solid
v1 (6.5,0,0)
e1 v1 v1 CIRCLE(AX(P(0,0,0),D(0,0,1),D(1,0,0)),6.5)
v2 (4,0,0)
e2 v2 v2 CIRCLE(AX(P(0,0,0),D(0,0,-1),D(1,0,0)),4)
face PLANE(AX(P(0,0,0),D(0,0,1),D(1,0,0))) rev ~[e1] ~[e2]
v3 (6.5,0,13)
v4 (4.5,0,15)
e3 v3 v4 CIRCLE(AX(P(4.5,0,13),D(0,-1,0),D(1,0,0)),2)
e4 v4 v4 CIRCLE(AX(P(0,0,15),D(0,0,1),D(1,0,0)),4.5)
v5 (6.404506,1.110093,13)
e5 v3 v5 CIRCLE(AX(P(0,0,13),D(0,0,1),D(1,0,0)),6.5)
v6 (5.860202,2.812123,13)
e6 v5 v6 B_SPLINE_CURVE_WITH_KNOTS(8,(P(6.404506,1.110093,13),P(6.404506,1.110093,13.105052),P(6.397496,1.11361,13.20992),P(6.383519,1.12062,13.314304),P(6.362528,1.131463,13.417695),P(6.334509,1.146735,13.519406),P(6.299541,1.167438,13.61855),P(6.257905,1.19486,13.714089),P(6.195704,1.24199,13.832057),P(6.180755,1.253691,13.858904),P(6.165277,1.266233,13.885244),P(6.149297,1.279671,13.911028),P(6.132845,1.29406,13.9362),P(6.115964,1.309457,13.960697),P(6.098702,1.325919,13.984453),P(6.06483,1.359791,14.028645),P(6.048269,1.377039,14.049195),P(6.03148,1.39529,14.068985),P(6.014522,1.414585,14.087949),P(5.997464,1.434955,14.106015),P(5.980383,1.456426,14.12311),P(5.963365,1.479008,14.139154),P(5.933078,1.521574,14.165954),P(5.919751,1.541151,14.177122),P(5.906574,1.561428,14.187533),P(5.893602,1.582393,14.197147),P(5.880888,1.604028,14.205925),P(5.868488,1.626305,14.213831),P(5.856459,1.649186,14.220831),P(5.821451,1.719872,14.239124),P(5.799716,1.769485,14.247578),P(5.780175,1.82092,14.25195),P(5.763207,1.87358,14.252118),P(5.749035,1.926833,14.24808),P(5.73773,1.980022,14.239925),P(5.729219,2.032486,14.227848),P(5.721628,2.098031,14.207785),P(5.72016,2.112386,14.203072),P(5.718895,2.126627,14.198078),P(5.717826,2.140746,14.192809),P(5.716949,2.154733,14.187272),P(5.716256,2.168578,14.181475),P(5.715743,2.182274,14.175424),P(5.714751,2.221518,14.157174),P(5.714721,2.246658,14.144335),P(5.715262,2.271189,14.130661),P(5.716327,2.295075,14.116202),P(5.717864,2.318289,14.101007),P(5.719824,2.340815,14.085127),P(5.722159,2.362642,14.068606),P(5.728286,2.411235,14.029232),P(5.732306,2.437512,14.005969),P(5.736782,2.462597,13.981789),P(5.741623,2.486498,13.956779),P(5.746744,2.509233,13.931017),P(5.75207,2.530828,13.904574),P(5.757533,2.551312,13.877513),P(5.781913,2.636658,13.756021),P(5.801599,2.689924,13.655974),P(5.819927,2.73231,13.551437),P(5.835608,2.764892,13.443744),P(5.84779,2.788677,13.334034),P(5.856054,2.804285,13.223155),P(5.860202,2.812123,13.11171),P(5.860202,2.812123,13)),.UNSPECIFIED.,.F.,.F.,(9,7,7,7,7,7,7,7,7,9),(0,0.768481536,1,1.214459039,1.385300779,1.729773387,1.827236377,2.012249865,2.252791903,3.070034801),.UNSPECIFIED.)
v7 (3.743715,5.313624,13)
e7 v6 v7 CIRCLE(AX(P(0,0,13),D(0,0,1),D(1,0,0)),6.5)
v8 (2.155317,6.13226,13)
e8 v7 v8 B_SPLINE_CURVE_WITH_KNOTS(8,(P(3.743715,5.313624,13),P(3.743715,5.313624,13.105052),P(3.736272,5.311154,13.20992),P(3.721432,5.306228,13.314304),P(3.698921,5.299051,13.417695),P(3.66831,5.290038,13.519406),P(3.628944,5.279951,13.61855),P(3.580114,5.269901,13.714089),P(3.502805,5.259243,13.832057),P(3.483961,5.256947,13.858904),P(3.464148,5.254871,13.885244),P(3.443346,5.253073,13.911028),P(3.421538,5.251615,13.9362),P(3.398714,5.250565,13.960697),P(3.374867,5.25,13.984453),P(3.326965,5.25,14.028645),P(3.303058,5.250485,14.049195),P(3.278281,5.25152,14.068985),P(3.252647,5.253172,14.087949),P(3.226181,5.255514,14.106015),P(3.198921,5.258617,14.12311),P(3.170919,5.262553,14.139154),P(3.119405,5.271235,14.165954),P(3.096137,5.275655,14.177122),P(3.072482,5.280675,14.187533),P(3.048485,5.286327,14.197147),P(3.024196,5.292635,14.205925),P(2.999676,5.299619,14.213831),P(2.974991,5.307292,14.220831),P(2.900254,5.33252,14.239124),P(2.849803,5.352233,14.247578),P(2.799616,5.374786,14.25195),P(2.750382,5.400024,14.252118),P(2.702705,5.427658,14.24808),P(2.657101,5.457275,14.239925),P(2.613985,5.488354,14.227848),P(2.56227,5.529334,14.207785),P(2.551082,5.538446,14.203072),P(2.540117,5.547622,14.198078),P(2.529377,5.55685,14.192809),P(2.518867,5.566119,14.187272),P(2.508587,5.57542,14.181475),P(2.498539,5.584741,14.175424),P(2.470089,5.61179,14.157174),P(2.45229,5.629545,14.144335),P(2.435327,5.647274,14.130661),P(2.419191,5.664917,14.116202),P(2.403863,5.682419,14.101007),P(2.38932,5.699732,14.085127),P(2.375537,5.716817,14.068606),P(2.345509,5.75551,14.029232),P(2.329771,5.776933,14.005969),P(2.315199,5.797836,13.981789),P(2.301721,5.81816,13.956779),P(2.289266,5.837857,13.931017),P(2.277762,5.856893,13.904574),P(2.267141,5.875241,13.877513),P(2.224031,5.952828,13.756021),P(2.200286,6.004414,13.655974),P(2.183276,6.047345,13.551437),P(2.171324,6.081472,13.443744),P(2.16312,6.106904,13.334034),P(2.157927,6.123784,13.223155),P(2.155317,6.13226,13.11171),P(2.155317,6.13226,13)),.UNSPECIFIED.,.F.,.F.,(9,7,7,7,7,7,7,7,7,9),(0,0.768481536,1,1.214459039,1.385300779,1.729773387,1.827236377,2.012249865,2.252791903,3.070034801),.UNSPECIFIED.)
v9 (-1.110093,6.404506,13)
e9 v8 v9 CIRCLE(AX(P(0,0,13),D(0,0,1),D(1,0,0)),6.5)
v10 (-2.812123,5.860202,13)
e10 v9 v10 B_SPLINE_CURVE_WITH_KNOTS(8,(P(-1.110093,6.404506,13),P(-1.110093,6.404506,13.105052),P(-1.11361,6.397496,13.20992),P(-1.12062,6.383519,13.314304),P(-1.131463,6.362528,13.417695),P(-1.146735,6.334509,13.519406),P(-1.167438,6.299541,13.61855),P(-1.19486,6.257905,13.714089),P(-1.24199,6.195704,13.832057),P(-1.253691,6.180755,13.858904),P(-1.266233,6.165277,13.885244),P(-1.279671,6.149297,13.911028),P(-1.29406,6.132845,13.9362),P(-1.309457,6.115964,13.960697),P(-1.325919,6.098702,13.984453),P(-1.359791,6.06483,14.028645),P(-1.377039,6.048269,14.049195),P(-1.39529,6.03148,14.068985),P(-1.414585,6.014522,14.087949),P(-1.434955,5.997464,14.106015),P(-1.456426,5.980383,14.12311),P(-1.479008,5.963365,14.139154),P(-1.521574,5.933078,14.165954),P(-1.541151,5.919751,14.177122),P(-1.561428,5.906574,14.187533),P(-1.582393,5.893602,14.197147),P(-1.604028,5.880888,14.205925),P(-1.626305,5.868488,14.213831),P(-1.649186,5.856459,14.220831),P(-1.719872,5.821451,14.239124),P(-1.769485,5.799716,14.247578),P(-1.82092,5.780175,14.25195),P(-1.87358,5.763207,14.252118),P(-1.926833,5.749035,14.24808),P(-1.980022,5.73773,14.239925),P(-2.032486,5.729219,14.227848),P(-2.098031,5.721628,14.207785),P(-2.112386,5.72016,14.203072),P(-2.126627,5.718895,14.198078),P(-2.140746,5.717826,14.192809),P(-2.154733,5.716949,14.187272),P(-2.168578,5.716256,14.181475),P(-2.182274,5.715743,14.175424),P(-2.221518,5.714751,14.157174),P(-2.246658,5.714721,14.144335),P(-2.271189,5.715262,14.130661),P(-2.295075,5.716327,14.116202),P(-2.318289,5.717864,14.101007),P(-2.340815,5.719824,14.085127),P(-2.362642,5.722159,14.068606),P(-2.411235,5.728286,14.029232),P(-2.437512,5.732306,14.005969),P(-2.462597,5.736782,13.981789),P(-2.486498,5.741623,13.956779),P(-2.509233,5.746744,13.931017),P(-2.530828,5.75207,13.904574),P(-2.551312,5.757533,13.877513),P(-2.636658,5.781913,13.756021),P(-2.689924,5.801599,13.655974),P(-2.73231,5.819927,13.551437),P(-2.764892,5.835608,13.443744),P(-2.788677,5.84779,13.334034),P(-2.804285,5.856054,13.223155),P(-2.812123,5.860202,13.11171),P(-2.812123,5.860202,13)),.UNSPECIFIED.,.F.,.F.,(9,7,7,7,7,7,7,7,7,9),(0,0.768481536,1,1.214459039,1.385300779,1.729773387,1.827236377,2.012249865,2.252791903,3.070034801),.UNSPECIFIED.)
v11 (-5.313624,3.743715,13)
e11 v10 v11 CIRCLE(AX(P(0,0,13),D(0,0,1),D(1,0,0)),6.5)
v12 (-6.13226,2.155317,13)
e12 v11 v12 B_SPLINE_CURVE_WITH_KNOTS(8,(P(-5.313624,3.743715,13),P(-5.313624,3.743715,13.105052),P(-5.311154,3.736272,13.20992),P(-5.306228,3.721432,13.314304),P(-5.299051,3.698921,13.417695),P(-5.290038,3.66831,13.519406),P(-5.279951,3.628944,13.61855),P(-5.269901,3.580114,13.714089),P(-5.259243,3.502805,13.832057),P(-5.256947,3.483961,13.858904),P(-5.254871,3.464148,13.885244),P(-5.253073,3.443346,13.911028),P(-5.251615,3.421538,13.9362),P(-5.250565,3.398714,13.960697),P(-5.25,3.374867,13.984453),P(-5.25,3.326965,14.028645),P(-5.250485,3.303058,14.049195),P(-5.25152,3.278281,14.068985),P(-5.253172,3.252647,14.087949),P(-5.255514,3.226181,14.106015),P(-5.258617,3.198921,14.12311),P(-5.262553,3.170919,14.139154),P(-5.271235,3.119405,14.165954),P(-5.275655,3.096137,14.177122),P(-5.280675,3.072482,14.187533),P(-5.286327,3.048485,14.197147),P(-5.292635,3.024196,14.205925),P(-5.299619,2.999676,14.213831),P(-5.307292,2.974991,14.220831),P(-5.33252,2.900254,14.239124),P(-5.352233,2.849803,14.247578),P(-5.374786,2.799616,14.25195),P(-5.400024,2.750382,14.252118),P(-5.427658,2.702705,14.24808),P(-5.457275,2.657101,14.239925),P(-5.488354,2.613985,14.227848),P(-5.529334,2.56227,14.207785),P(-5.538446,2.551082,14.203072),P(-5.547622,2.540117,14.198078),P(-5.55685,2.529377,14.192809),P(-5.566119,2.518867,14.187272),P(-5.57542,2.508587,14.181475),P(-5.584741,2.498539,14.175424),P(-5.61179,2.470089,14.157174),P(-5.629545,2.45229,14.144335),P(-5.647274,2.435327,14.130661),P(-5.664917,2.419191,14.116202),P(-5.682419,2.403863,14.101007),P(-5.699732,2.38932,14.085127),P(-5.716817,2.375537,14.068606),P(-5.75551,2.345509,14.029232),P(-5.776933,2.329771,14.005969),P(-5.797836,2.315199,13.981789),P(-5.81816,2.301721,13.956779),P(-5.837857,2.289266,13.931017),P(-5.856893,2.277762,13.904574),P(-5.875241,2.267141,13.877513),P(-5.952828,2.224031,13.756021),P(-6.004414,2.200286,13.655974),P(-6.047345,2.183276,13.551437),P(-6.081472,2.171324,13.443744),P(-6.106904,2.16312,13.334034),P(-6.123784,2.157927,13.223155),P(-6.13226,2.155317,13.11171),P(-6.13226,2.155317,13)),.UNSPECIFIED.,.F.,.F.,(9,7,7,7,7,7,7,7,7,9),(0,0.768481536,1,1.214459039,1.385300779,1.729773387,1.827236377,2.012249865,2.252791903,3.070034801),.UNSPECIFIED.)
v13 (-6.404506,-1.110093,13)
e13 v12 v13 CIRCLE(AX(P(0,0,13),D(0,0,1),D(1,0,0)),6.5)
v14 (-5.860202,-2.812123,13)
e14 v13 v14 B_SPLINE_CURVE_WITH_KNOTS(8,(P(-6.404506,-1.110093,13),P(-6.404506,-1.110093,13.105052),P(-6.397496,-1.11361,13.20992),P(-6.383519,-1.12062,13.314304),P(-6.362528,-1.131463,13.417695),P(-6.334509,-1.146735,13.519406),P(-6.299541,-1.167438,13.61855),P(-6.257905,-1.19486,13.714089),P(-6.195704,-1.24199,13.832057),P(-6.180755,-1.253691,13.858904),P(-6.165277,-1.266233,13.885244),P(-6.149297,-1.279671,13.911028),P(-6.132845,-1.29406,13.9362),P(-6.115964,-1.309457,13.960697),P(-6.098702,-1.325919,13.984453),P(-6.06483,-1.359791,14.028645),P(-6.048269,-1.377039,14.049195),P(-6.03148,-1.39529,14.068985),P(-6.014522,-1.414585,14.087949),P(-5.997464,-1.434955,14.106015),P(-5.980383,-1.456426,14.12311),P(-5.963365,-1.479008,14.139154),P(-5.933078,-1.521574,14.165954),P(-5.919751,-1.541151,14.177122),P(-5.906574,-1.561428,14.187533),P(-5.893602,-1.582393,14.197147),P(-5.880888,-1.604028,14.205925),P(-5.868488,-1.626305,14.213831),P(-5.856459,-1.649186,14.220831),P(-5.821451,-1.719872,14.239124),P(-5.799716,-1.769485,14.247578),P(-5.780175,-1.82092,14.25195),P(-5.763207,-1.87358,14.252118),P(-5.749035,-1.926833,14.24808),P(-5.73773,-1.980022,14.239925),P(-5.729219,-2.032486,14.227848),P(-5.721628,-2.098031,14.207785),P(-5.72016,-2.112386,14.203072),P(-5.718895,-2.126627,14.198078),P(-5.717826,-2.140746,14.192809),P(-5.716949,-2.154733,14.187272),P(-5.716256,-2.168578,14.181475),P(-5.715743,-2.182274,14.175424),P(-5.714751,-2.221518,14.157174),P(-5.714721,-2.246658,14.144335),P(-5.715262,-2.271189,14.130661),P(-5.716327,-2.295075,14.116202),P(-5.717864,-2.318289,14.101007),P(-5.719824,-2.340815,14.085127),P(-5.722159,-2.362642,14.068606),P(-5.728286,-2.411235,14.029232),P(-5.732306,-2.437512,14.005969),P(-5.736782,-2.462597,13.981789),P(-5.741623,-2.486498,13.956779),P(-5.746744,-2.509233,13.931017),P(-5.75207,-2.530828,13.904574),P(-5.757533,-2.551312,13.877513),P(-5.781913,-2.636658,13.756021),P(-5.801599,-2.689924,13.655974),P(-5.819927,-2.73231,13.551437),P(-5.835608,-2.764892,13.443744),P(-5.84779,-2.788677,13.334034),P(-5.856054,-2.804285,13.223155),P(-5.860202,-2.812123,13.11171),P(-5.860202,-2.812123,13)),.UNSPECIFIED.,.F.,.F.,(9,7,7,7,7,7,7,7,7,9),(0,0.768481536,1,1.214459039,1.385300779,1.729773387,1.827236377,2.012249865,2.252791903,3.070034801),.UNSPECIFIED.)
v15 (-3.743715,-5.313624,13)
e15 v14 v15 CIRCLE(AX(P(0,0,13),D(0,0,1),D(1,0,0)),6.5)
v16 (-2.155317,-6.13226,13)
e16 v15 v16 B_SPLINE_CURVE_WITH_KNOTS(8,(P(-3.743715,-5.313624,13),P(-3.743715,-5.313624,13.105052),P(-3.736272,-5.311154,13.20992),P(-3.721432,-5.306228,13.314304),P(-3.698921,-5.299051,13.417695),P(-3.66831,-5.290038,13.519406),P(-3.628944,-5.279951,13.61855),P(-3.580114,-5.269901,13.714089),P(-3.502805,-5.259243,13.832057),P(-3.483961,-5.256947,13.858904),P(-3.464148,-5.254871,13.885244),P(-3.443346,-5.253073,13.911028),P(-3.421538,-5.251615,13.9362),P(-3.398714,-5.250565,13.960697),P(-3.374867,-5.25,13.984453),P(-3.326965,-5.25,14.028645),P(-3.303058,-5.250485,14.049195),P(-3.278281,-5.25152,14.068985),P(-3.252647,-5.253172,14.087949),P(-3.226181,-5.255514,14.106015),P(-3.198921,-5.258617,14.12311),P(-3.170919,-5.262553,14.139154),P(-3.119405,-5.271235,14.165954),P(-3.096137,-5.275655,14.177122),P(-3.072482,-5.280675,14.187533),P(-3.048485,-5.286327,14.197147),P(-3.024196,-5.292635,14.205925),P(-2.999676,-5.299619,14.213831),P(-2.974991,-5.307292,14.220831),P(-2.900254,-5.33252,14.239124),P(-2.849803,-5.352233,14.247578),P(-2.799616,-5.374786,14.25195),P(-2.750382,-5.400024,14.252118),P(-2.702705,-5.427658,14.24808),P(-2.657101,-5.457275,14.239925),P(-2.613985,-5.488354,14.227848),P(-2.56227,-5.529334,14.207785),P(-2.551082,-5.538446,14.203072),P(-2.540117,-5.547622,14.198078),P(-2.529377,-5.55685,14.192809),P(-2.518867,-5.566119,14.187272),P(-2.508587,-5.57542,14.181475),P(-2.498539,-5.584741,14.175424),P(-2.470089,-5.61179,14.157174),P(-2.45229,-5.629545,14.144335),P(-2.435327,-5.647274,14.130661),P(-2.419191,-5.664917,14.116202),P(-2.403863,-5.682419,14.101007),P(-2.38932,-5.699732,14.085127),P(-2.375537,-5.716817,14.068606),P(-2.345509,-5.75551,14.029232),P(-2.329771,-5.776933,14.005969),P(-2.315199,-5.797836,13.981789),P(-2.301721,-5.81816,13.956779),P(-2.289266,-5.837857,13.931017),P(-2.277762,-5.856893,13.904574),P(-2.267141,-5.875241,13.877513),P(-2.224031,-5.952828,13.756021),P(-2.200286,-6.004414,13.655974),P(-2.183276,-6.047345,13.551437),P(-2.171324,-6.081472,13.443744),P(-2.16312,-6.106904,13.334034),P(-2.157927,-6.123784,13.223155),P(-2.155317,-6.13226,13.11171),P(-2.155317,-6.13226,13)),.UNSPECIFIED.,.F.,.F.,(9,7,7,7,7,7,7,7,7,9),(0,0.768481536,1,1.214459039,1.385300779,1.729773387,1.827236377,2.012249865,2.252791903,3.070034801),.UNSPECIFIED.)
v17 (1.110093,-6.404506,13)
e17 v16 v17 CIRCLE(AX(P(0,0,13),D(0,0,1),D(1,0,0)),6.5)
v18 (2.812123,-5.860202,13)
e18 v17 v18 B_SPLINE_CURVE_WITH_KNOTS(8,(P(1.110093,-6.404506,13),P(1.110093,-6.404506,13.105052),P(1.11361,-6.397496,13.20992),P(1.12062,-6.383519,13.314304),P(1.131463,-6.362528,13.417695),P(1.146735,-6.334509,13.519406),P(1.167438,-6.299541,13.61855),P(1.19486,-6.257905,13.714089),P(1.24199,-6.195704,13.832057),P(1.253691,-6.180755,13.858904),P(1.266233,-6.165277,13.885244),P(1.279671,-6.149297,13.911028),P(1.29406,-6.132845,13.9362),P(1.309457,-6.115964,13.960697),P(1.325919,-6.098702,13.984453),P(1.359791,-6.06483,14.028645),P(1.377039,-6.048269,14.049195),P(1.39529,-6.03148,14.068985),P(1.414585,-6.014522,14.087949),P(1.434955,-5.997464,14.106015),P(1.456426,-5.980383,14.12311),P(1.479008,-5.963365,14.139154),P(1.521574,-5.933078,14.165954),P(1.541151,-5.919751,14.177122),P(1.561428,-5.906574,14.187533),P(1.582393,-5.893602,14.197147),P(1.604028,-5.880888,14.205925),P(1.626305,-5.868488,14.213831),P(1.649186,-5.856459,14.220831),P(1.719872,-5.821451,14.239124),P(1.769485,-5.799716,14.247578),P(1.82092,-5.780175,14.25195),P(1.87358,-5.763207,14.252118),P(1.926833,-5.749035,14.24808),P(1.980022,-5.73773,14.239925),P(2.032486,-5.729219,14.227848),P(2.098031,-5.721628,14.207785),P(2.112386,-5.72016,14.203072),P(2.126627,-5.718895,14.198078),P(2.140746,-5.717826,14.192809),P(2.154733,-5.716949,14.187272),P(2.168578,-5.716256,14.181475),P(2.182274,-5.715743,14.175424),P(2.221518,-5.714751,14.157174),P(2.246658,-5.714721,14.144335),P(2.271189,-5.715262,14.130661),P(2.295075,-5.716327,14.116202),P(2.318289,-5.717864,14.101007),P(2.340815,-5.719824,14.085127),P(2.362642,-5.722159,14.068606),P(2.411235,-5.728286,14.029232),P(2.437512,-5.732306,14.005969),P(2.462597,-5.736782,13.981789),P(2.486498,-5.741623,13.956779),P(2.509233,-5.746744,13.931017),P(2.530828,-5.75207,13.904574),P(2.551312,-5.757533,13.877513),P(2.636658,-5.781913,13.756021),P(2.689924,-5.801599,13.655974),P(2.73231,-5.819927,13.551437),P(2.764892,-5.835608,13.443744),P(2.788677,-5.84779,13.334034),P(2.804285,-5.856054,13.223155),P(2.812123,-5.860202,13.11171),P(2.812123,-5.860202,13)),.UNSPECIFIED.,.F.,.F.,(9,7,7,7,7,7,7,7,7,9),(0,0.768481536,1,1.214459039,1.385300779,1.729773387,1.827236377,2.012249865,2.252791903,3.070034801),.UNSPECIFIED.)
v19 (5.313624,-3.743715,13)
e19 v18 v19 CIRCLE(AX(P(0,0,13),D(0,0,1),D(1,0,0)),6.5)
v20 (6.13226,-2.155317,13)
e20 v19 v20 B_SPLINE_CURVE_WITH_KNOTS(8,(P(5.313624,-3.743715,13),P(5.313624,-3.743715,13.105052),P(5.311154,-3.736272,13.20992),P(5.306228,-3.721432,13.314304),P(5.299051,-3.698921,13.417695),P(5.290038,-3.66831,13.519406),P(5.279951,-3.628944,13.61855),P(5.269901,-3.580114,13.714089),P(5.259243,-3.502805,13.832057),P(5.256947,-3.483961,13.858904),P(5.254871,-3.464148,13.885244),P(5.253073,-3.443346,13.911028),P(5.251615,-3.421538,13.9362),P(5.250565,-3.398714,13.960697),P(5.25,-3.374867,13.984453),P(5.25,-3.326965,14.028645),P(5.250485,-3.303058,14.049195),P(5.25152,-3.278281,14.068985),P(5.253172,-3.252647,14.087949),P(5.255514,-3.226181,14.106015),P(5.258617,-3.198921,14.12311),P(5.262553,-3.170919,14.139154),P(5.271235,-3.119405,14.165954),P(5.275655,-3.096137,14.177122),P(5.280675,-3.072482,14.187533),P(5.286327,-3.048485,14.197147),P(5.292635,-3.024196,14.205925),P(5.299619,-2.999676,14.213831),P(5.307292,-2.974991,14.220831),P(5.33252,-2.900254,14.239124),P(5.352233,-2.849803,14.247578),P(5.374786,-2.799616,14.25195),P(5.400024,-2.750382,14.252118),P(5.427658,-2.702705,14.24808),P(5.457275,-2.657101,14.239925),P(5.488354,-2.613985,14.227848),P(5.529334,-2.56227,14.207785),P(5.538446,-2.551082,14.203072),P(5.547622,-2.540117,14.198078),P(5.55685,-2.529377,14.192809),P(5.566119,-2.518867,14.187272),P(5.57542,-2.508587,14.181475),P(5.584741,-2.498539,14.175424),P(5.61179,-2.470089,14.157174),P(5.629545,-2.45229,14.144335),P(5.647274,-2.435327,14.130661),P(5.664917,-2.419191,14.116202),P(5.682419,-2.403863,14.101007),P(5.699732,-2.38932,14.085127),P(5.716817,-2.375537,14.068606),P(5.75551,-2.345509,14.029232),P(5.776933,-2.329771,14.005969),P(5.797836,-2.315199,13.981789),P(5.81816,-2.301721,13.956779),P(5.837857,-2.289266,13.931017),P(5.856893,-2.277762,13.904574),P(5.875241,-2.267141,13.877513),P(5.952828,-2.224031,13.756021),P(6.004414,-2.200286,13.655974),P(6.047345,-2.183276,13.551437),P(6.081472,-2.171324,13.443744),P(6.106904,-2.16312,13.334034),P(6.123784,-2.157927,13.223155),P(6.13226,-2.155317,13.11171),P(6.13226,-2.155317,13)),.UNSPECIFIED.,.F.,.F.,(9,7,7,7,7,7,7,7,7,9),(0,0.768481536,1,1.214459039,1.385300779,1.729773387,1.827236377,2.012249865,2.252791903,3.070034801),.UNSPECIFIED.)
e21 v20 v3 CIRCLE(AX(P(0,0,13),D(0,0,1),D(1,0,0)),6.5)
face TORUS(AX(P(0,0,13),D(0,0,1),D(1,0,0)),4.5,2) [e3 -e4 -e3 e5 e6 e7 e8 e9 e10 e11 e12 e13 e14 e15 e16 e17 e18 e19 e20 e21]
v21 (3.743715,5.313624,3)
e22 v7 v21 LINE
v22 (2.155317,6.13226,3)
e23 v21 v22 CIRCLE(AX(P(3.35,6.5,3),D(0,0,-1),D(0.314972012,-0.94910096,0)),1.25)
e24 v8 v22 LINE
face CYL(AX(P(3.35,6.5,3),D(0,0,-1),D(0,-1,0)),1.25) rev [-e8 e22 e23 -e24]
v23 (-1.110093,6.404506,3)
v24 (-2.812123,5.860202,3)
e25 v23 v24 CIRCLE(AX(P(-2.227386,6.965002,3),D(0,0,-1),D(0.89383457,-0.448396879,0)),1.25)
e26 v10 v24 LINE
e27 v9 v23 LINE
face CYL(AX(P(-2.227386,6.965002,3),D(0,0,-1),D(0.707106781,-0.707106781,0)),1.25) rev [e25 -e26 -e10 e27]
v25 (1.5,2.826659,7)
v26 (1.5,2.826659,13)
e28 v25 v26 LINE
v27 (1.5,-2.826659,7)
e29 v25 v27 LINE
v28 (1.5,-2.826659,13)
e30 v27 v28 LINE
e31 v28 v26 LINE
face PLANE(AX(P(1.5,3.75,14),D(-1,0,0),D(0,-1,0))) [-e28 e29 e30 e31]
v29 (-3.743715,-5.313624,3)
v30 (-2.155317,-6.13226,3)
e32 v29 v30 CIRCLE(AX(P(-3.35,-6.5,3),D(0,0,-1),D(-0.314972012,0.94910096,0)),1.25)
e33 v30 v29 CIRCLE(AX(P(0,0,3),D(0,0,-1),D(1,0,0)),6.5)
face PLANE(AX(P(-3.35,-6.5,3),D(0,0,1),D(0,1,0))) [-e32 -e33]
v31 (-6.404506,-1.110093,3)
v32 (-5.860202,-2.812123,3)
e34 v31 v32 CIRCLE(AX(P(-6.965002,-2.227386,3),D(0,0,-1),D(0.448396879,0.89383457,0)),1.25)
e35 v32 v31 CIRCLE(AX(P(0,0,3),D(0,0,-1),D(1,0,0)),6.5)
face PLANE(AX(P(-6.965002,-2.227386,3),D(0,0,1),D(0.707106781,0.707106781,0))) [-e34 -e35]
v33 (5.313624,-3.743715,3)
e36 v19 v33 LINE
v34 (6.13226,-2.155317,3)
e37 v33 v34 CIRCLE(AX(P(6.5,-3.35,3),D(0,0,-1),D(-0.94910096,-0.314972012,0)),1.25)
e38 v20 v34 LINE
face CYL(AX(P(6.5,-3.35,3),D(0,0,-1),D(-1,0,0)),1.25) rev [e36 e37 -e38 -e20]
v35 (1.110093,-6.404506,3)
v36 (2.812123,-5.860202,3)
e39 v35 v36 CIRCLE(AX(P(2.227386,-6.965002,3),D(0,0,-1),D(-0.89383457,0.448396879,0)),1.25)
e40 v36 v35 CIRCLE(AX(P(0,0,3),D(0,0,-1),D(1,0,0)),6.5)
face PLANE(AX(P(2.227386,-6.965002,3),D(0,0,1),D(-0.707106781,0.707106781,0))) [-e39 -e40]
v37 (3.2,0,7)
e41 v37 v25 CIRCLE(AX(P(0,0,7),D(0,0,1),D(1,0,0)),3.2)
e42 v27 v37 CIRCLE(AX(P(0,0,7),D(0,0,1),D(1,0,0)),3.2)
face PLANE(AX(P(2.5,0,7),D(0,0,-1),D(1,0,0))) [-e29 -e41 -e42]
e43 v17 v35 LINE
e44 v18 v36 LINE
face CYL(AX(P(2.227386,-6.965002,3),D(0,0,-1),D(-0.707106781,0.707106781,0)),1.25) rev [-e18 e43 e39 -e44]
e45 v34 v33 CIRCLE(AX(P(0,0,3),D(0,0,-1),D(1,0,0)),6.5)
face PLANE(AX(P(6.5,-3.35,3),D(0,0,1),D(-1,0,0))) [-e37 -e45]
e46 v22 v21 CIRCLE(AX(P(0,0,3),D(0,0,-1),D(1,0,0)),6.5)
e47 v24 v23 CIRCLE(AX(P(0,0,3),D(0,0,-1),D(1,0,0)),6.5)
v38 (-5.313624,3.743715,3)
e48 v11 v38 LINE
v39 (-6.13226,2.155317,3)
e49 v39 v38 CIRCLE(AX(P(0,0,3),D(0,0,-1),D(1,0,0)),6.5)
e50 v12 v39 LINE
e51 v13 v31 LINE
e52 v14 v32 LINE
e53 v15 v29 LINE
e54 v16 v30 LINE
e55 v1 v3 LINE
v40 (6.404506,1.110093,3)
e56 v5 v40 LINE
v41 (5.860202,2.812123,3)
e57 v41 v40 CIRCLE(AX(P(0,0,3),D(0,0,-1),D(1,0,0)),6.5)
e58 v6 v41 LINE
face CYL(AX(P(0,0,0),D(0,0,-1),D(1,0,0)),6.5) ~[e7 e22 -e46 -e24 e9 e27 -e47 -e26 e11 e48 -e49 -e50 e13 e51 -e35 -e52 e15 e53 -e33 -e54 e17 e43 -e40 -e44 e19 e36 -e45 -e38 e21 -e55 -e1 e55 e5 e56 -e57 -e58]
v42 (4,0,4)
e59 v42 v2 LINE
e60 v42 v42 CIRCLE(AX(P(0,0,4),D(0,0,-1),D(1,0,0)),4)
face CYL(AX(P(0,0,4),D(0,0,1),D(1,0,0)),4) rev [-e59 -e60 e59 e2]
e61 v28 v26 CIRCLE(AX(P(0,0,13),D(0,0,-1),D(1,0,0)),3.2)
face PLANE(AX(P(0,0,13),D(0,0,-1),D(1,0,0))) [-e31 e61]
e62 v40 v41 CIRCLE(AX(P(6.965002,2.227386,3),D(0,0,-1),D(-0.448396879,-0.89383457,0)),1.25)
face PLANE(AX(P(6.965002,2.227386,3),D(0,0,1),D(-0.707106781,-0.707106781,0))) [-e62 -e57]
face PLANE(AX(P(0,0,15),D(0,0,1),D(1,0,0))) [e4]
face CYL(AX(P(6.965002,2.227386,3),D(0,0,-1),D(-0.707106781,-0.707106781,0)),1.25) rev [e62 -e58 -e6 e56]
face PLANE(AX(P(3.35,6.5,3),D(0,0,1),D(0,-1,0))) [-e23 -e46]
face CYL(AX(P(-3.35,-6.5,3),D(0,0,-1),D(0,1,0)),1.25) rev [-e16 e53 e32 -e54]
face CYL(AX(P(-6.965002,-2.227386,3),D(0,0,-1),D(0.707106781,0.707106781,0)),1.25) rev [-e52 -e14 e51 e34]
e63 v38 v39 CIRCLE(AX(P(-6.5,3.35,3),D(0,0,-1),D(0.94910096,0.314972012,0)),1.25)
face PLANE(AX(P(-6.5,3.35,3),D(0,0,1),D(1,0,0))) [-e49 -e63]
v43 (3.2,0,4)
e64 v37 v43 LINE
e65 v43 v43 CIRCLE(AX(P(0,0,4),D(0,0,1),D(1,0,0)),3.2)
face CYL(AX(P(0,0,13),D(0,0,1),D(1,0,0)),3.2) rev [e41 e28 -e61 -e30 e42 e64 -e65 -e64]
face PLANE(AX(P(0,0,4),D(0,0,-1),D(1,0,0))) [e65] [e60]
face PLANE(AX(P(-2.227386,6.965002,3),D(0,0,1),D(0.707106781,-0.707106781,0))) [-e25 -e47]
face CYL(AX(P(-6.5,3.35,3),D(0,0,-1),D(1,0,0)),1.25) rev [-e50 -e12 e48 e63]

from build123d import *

# Parameters (mm, degrees)
CYLINDER_R         = 6.5
CYLINDER_DEPTH     = 15
CYLINDER001_R      = 3.2
CYLINDER001_DEPTH  = 13
BOX_W              = 2
BOX_H              = 7.5
BOX_DEPTH          = 7
FILLET_R           = 2
CYLINDER002_R      = 1.25
CYLINDER002_DEPTH  = 12
POLARPATTERN_COUNT = 8
CYLINDER003_R      = 4
CYLINDER003_DEPTH  = 4


with BuildPart() as part:
    # Cylinder → Cylinder (join)
    with BuildSketch(Plane.XY):
        Circle(CYLINDER_R)
    extrude(amount=CYLINDER_DEPTH)

    # Cylinder001 → Cylinder001 (cut)
    with BuildSketch(Plane(origin=(0, 0, 13), x_dir=(1, 0, 0), z_dir=(0, 0, -1))):
        Circle(CYLINDER001_R)
    extrude(amount=CYLINDER001_DEPTH, mode=Mode.SUBTRACT)

    # Box → Box (join)
    with BuildSketch(Plane(origin=(1.5, 3.75, 14), x_dir=(1, 0, 0), z_dir=(0, 0, -1))):
        with Locations((1, 3.75)):
            Rectangle(BOX_W, BOX_H)
    extrude(amount=BOX_DEPTH)

    # Fillet
    fillet_edges = [part.edges().sort_by_distance(p)[0] for p in [
        (-6.5, 0, 15),
    ]]
    fillet(fillet_edges, radius=FILLET_R)

    # Cylinder002 → Cylinder002 (cut)
    with BuildSketch(Plane(origin=(-6.5, 3.35, 3), x_dir=(1, 0, 0), z_dir=(0, 0, 1))):
        Circle(CYLINDER002_R)
    cylinder002 = extrude(amount=CYLINDER002_DEPTH, mode=Mode.SUBTRACT)

    # PolarPattern: Cylinder002 ×8 about axis
    polarpattern_axis = Axis((0, 0, 0), (0, 0, 1))
    for i in range(1, POLARPATTERN_COUNT):
        add(cylinder002.rotate(polarpattern_axis, i * 360 / POLARPATTERN_COUNT), mode=Mode.SUBTRACT)

    # Cylinder003 → Cylinder003 (cut)
    with BuildSketch(Plane(origin=(0, 0, 4), x_dir=(1, 0, 0), z_dir=(0, 0, -1))):
        Circle(CYLINDER003_R)
    extrude(amount=CYLINDER003_DEPTH, mode=Mode.SUBTRACT)


solid = part.part
